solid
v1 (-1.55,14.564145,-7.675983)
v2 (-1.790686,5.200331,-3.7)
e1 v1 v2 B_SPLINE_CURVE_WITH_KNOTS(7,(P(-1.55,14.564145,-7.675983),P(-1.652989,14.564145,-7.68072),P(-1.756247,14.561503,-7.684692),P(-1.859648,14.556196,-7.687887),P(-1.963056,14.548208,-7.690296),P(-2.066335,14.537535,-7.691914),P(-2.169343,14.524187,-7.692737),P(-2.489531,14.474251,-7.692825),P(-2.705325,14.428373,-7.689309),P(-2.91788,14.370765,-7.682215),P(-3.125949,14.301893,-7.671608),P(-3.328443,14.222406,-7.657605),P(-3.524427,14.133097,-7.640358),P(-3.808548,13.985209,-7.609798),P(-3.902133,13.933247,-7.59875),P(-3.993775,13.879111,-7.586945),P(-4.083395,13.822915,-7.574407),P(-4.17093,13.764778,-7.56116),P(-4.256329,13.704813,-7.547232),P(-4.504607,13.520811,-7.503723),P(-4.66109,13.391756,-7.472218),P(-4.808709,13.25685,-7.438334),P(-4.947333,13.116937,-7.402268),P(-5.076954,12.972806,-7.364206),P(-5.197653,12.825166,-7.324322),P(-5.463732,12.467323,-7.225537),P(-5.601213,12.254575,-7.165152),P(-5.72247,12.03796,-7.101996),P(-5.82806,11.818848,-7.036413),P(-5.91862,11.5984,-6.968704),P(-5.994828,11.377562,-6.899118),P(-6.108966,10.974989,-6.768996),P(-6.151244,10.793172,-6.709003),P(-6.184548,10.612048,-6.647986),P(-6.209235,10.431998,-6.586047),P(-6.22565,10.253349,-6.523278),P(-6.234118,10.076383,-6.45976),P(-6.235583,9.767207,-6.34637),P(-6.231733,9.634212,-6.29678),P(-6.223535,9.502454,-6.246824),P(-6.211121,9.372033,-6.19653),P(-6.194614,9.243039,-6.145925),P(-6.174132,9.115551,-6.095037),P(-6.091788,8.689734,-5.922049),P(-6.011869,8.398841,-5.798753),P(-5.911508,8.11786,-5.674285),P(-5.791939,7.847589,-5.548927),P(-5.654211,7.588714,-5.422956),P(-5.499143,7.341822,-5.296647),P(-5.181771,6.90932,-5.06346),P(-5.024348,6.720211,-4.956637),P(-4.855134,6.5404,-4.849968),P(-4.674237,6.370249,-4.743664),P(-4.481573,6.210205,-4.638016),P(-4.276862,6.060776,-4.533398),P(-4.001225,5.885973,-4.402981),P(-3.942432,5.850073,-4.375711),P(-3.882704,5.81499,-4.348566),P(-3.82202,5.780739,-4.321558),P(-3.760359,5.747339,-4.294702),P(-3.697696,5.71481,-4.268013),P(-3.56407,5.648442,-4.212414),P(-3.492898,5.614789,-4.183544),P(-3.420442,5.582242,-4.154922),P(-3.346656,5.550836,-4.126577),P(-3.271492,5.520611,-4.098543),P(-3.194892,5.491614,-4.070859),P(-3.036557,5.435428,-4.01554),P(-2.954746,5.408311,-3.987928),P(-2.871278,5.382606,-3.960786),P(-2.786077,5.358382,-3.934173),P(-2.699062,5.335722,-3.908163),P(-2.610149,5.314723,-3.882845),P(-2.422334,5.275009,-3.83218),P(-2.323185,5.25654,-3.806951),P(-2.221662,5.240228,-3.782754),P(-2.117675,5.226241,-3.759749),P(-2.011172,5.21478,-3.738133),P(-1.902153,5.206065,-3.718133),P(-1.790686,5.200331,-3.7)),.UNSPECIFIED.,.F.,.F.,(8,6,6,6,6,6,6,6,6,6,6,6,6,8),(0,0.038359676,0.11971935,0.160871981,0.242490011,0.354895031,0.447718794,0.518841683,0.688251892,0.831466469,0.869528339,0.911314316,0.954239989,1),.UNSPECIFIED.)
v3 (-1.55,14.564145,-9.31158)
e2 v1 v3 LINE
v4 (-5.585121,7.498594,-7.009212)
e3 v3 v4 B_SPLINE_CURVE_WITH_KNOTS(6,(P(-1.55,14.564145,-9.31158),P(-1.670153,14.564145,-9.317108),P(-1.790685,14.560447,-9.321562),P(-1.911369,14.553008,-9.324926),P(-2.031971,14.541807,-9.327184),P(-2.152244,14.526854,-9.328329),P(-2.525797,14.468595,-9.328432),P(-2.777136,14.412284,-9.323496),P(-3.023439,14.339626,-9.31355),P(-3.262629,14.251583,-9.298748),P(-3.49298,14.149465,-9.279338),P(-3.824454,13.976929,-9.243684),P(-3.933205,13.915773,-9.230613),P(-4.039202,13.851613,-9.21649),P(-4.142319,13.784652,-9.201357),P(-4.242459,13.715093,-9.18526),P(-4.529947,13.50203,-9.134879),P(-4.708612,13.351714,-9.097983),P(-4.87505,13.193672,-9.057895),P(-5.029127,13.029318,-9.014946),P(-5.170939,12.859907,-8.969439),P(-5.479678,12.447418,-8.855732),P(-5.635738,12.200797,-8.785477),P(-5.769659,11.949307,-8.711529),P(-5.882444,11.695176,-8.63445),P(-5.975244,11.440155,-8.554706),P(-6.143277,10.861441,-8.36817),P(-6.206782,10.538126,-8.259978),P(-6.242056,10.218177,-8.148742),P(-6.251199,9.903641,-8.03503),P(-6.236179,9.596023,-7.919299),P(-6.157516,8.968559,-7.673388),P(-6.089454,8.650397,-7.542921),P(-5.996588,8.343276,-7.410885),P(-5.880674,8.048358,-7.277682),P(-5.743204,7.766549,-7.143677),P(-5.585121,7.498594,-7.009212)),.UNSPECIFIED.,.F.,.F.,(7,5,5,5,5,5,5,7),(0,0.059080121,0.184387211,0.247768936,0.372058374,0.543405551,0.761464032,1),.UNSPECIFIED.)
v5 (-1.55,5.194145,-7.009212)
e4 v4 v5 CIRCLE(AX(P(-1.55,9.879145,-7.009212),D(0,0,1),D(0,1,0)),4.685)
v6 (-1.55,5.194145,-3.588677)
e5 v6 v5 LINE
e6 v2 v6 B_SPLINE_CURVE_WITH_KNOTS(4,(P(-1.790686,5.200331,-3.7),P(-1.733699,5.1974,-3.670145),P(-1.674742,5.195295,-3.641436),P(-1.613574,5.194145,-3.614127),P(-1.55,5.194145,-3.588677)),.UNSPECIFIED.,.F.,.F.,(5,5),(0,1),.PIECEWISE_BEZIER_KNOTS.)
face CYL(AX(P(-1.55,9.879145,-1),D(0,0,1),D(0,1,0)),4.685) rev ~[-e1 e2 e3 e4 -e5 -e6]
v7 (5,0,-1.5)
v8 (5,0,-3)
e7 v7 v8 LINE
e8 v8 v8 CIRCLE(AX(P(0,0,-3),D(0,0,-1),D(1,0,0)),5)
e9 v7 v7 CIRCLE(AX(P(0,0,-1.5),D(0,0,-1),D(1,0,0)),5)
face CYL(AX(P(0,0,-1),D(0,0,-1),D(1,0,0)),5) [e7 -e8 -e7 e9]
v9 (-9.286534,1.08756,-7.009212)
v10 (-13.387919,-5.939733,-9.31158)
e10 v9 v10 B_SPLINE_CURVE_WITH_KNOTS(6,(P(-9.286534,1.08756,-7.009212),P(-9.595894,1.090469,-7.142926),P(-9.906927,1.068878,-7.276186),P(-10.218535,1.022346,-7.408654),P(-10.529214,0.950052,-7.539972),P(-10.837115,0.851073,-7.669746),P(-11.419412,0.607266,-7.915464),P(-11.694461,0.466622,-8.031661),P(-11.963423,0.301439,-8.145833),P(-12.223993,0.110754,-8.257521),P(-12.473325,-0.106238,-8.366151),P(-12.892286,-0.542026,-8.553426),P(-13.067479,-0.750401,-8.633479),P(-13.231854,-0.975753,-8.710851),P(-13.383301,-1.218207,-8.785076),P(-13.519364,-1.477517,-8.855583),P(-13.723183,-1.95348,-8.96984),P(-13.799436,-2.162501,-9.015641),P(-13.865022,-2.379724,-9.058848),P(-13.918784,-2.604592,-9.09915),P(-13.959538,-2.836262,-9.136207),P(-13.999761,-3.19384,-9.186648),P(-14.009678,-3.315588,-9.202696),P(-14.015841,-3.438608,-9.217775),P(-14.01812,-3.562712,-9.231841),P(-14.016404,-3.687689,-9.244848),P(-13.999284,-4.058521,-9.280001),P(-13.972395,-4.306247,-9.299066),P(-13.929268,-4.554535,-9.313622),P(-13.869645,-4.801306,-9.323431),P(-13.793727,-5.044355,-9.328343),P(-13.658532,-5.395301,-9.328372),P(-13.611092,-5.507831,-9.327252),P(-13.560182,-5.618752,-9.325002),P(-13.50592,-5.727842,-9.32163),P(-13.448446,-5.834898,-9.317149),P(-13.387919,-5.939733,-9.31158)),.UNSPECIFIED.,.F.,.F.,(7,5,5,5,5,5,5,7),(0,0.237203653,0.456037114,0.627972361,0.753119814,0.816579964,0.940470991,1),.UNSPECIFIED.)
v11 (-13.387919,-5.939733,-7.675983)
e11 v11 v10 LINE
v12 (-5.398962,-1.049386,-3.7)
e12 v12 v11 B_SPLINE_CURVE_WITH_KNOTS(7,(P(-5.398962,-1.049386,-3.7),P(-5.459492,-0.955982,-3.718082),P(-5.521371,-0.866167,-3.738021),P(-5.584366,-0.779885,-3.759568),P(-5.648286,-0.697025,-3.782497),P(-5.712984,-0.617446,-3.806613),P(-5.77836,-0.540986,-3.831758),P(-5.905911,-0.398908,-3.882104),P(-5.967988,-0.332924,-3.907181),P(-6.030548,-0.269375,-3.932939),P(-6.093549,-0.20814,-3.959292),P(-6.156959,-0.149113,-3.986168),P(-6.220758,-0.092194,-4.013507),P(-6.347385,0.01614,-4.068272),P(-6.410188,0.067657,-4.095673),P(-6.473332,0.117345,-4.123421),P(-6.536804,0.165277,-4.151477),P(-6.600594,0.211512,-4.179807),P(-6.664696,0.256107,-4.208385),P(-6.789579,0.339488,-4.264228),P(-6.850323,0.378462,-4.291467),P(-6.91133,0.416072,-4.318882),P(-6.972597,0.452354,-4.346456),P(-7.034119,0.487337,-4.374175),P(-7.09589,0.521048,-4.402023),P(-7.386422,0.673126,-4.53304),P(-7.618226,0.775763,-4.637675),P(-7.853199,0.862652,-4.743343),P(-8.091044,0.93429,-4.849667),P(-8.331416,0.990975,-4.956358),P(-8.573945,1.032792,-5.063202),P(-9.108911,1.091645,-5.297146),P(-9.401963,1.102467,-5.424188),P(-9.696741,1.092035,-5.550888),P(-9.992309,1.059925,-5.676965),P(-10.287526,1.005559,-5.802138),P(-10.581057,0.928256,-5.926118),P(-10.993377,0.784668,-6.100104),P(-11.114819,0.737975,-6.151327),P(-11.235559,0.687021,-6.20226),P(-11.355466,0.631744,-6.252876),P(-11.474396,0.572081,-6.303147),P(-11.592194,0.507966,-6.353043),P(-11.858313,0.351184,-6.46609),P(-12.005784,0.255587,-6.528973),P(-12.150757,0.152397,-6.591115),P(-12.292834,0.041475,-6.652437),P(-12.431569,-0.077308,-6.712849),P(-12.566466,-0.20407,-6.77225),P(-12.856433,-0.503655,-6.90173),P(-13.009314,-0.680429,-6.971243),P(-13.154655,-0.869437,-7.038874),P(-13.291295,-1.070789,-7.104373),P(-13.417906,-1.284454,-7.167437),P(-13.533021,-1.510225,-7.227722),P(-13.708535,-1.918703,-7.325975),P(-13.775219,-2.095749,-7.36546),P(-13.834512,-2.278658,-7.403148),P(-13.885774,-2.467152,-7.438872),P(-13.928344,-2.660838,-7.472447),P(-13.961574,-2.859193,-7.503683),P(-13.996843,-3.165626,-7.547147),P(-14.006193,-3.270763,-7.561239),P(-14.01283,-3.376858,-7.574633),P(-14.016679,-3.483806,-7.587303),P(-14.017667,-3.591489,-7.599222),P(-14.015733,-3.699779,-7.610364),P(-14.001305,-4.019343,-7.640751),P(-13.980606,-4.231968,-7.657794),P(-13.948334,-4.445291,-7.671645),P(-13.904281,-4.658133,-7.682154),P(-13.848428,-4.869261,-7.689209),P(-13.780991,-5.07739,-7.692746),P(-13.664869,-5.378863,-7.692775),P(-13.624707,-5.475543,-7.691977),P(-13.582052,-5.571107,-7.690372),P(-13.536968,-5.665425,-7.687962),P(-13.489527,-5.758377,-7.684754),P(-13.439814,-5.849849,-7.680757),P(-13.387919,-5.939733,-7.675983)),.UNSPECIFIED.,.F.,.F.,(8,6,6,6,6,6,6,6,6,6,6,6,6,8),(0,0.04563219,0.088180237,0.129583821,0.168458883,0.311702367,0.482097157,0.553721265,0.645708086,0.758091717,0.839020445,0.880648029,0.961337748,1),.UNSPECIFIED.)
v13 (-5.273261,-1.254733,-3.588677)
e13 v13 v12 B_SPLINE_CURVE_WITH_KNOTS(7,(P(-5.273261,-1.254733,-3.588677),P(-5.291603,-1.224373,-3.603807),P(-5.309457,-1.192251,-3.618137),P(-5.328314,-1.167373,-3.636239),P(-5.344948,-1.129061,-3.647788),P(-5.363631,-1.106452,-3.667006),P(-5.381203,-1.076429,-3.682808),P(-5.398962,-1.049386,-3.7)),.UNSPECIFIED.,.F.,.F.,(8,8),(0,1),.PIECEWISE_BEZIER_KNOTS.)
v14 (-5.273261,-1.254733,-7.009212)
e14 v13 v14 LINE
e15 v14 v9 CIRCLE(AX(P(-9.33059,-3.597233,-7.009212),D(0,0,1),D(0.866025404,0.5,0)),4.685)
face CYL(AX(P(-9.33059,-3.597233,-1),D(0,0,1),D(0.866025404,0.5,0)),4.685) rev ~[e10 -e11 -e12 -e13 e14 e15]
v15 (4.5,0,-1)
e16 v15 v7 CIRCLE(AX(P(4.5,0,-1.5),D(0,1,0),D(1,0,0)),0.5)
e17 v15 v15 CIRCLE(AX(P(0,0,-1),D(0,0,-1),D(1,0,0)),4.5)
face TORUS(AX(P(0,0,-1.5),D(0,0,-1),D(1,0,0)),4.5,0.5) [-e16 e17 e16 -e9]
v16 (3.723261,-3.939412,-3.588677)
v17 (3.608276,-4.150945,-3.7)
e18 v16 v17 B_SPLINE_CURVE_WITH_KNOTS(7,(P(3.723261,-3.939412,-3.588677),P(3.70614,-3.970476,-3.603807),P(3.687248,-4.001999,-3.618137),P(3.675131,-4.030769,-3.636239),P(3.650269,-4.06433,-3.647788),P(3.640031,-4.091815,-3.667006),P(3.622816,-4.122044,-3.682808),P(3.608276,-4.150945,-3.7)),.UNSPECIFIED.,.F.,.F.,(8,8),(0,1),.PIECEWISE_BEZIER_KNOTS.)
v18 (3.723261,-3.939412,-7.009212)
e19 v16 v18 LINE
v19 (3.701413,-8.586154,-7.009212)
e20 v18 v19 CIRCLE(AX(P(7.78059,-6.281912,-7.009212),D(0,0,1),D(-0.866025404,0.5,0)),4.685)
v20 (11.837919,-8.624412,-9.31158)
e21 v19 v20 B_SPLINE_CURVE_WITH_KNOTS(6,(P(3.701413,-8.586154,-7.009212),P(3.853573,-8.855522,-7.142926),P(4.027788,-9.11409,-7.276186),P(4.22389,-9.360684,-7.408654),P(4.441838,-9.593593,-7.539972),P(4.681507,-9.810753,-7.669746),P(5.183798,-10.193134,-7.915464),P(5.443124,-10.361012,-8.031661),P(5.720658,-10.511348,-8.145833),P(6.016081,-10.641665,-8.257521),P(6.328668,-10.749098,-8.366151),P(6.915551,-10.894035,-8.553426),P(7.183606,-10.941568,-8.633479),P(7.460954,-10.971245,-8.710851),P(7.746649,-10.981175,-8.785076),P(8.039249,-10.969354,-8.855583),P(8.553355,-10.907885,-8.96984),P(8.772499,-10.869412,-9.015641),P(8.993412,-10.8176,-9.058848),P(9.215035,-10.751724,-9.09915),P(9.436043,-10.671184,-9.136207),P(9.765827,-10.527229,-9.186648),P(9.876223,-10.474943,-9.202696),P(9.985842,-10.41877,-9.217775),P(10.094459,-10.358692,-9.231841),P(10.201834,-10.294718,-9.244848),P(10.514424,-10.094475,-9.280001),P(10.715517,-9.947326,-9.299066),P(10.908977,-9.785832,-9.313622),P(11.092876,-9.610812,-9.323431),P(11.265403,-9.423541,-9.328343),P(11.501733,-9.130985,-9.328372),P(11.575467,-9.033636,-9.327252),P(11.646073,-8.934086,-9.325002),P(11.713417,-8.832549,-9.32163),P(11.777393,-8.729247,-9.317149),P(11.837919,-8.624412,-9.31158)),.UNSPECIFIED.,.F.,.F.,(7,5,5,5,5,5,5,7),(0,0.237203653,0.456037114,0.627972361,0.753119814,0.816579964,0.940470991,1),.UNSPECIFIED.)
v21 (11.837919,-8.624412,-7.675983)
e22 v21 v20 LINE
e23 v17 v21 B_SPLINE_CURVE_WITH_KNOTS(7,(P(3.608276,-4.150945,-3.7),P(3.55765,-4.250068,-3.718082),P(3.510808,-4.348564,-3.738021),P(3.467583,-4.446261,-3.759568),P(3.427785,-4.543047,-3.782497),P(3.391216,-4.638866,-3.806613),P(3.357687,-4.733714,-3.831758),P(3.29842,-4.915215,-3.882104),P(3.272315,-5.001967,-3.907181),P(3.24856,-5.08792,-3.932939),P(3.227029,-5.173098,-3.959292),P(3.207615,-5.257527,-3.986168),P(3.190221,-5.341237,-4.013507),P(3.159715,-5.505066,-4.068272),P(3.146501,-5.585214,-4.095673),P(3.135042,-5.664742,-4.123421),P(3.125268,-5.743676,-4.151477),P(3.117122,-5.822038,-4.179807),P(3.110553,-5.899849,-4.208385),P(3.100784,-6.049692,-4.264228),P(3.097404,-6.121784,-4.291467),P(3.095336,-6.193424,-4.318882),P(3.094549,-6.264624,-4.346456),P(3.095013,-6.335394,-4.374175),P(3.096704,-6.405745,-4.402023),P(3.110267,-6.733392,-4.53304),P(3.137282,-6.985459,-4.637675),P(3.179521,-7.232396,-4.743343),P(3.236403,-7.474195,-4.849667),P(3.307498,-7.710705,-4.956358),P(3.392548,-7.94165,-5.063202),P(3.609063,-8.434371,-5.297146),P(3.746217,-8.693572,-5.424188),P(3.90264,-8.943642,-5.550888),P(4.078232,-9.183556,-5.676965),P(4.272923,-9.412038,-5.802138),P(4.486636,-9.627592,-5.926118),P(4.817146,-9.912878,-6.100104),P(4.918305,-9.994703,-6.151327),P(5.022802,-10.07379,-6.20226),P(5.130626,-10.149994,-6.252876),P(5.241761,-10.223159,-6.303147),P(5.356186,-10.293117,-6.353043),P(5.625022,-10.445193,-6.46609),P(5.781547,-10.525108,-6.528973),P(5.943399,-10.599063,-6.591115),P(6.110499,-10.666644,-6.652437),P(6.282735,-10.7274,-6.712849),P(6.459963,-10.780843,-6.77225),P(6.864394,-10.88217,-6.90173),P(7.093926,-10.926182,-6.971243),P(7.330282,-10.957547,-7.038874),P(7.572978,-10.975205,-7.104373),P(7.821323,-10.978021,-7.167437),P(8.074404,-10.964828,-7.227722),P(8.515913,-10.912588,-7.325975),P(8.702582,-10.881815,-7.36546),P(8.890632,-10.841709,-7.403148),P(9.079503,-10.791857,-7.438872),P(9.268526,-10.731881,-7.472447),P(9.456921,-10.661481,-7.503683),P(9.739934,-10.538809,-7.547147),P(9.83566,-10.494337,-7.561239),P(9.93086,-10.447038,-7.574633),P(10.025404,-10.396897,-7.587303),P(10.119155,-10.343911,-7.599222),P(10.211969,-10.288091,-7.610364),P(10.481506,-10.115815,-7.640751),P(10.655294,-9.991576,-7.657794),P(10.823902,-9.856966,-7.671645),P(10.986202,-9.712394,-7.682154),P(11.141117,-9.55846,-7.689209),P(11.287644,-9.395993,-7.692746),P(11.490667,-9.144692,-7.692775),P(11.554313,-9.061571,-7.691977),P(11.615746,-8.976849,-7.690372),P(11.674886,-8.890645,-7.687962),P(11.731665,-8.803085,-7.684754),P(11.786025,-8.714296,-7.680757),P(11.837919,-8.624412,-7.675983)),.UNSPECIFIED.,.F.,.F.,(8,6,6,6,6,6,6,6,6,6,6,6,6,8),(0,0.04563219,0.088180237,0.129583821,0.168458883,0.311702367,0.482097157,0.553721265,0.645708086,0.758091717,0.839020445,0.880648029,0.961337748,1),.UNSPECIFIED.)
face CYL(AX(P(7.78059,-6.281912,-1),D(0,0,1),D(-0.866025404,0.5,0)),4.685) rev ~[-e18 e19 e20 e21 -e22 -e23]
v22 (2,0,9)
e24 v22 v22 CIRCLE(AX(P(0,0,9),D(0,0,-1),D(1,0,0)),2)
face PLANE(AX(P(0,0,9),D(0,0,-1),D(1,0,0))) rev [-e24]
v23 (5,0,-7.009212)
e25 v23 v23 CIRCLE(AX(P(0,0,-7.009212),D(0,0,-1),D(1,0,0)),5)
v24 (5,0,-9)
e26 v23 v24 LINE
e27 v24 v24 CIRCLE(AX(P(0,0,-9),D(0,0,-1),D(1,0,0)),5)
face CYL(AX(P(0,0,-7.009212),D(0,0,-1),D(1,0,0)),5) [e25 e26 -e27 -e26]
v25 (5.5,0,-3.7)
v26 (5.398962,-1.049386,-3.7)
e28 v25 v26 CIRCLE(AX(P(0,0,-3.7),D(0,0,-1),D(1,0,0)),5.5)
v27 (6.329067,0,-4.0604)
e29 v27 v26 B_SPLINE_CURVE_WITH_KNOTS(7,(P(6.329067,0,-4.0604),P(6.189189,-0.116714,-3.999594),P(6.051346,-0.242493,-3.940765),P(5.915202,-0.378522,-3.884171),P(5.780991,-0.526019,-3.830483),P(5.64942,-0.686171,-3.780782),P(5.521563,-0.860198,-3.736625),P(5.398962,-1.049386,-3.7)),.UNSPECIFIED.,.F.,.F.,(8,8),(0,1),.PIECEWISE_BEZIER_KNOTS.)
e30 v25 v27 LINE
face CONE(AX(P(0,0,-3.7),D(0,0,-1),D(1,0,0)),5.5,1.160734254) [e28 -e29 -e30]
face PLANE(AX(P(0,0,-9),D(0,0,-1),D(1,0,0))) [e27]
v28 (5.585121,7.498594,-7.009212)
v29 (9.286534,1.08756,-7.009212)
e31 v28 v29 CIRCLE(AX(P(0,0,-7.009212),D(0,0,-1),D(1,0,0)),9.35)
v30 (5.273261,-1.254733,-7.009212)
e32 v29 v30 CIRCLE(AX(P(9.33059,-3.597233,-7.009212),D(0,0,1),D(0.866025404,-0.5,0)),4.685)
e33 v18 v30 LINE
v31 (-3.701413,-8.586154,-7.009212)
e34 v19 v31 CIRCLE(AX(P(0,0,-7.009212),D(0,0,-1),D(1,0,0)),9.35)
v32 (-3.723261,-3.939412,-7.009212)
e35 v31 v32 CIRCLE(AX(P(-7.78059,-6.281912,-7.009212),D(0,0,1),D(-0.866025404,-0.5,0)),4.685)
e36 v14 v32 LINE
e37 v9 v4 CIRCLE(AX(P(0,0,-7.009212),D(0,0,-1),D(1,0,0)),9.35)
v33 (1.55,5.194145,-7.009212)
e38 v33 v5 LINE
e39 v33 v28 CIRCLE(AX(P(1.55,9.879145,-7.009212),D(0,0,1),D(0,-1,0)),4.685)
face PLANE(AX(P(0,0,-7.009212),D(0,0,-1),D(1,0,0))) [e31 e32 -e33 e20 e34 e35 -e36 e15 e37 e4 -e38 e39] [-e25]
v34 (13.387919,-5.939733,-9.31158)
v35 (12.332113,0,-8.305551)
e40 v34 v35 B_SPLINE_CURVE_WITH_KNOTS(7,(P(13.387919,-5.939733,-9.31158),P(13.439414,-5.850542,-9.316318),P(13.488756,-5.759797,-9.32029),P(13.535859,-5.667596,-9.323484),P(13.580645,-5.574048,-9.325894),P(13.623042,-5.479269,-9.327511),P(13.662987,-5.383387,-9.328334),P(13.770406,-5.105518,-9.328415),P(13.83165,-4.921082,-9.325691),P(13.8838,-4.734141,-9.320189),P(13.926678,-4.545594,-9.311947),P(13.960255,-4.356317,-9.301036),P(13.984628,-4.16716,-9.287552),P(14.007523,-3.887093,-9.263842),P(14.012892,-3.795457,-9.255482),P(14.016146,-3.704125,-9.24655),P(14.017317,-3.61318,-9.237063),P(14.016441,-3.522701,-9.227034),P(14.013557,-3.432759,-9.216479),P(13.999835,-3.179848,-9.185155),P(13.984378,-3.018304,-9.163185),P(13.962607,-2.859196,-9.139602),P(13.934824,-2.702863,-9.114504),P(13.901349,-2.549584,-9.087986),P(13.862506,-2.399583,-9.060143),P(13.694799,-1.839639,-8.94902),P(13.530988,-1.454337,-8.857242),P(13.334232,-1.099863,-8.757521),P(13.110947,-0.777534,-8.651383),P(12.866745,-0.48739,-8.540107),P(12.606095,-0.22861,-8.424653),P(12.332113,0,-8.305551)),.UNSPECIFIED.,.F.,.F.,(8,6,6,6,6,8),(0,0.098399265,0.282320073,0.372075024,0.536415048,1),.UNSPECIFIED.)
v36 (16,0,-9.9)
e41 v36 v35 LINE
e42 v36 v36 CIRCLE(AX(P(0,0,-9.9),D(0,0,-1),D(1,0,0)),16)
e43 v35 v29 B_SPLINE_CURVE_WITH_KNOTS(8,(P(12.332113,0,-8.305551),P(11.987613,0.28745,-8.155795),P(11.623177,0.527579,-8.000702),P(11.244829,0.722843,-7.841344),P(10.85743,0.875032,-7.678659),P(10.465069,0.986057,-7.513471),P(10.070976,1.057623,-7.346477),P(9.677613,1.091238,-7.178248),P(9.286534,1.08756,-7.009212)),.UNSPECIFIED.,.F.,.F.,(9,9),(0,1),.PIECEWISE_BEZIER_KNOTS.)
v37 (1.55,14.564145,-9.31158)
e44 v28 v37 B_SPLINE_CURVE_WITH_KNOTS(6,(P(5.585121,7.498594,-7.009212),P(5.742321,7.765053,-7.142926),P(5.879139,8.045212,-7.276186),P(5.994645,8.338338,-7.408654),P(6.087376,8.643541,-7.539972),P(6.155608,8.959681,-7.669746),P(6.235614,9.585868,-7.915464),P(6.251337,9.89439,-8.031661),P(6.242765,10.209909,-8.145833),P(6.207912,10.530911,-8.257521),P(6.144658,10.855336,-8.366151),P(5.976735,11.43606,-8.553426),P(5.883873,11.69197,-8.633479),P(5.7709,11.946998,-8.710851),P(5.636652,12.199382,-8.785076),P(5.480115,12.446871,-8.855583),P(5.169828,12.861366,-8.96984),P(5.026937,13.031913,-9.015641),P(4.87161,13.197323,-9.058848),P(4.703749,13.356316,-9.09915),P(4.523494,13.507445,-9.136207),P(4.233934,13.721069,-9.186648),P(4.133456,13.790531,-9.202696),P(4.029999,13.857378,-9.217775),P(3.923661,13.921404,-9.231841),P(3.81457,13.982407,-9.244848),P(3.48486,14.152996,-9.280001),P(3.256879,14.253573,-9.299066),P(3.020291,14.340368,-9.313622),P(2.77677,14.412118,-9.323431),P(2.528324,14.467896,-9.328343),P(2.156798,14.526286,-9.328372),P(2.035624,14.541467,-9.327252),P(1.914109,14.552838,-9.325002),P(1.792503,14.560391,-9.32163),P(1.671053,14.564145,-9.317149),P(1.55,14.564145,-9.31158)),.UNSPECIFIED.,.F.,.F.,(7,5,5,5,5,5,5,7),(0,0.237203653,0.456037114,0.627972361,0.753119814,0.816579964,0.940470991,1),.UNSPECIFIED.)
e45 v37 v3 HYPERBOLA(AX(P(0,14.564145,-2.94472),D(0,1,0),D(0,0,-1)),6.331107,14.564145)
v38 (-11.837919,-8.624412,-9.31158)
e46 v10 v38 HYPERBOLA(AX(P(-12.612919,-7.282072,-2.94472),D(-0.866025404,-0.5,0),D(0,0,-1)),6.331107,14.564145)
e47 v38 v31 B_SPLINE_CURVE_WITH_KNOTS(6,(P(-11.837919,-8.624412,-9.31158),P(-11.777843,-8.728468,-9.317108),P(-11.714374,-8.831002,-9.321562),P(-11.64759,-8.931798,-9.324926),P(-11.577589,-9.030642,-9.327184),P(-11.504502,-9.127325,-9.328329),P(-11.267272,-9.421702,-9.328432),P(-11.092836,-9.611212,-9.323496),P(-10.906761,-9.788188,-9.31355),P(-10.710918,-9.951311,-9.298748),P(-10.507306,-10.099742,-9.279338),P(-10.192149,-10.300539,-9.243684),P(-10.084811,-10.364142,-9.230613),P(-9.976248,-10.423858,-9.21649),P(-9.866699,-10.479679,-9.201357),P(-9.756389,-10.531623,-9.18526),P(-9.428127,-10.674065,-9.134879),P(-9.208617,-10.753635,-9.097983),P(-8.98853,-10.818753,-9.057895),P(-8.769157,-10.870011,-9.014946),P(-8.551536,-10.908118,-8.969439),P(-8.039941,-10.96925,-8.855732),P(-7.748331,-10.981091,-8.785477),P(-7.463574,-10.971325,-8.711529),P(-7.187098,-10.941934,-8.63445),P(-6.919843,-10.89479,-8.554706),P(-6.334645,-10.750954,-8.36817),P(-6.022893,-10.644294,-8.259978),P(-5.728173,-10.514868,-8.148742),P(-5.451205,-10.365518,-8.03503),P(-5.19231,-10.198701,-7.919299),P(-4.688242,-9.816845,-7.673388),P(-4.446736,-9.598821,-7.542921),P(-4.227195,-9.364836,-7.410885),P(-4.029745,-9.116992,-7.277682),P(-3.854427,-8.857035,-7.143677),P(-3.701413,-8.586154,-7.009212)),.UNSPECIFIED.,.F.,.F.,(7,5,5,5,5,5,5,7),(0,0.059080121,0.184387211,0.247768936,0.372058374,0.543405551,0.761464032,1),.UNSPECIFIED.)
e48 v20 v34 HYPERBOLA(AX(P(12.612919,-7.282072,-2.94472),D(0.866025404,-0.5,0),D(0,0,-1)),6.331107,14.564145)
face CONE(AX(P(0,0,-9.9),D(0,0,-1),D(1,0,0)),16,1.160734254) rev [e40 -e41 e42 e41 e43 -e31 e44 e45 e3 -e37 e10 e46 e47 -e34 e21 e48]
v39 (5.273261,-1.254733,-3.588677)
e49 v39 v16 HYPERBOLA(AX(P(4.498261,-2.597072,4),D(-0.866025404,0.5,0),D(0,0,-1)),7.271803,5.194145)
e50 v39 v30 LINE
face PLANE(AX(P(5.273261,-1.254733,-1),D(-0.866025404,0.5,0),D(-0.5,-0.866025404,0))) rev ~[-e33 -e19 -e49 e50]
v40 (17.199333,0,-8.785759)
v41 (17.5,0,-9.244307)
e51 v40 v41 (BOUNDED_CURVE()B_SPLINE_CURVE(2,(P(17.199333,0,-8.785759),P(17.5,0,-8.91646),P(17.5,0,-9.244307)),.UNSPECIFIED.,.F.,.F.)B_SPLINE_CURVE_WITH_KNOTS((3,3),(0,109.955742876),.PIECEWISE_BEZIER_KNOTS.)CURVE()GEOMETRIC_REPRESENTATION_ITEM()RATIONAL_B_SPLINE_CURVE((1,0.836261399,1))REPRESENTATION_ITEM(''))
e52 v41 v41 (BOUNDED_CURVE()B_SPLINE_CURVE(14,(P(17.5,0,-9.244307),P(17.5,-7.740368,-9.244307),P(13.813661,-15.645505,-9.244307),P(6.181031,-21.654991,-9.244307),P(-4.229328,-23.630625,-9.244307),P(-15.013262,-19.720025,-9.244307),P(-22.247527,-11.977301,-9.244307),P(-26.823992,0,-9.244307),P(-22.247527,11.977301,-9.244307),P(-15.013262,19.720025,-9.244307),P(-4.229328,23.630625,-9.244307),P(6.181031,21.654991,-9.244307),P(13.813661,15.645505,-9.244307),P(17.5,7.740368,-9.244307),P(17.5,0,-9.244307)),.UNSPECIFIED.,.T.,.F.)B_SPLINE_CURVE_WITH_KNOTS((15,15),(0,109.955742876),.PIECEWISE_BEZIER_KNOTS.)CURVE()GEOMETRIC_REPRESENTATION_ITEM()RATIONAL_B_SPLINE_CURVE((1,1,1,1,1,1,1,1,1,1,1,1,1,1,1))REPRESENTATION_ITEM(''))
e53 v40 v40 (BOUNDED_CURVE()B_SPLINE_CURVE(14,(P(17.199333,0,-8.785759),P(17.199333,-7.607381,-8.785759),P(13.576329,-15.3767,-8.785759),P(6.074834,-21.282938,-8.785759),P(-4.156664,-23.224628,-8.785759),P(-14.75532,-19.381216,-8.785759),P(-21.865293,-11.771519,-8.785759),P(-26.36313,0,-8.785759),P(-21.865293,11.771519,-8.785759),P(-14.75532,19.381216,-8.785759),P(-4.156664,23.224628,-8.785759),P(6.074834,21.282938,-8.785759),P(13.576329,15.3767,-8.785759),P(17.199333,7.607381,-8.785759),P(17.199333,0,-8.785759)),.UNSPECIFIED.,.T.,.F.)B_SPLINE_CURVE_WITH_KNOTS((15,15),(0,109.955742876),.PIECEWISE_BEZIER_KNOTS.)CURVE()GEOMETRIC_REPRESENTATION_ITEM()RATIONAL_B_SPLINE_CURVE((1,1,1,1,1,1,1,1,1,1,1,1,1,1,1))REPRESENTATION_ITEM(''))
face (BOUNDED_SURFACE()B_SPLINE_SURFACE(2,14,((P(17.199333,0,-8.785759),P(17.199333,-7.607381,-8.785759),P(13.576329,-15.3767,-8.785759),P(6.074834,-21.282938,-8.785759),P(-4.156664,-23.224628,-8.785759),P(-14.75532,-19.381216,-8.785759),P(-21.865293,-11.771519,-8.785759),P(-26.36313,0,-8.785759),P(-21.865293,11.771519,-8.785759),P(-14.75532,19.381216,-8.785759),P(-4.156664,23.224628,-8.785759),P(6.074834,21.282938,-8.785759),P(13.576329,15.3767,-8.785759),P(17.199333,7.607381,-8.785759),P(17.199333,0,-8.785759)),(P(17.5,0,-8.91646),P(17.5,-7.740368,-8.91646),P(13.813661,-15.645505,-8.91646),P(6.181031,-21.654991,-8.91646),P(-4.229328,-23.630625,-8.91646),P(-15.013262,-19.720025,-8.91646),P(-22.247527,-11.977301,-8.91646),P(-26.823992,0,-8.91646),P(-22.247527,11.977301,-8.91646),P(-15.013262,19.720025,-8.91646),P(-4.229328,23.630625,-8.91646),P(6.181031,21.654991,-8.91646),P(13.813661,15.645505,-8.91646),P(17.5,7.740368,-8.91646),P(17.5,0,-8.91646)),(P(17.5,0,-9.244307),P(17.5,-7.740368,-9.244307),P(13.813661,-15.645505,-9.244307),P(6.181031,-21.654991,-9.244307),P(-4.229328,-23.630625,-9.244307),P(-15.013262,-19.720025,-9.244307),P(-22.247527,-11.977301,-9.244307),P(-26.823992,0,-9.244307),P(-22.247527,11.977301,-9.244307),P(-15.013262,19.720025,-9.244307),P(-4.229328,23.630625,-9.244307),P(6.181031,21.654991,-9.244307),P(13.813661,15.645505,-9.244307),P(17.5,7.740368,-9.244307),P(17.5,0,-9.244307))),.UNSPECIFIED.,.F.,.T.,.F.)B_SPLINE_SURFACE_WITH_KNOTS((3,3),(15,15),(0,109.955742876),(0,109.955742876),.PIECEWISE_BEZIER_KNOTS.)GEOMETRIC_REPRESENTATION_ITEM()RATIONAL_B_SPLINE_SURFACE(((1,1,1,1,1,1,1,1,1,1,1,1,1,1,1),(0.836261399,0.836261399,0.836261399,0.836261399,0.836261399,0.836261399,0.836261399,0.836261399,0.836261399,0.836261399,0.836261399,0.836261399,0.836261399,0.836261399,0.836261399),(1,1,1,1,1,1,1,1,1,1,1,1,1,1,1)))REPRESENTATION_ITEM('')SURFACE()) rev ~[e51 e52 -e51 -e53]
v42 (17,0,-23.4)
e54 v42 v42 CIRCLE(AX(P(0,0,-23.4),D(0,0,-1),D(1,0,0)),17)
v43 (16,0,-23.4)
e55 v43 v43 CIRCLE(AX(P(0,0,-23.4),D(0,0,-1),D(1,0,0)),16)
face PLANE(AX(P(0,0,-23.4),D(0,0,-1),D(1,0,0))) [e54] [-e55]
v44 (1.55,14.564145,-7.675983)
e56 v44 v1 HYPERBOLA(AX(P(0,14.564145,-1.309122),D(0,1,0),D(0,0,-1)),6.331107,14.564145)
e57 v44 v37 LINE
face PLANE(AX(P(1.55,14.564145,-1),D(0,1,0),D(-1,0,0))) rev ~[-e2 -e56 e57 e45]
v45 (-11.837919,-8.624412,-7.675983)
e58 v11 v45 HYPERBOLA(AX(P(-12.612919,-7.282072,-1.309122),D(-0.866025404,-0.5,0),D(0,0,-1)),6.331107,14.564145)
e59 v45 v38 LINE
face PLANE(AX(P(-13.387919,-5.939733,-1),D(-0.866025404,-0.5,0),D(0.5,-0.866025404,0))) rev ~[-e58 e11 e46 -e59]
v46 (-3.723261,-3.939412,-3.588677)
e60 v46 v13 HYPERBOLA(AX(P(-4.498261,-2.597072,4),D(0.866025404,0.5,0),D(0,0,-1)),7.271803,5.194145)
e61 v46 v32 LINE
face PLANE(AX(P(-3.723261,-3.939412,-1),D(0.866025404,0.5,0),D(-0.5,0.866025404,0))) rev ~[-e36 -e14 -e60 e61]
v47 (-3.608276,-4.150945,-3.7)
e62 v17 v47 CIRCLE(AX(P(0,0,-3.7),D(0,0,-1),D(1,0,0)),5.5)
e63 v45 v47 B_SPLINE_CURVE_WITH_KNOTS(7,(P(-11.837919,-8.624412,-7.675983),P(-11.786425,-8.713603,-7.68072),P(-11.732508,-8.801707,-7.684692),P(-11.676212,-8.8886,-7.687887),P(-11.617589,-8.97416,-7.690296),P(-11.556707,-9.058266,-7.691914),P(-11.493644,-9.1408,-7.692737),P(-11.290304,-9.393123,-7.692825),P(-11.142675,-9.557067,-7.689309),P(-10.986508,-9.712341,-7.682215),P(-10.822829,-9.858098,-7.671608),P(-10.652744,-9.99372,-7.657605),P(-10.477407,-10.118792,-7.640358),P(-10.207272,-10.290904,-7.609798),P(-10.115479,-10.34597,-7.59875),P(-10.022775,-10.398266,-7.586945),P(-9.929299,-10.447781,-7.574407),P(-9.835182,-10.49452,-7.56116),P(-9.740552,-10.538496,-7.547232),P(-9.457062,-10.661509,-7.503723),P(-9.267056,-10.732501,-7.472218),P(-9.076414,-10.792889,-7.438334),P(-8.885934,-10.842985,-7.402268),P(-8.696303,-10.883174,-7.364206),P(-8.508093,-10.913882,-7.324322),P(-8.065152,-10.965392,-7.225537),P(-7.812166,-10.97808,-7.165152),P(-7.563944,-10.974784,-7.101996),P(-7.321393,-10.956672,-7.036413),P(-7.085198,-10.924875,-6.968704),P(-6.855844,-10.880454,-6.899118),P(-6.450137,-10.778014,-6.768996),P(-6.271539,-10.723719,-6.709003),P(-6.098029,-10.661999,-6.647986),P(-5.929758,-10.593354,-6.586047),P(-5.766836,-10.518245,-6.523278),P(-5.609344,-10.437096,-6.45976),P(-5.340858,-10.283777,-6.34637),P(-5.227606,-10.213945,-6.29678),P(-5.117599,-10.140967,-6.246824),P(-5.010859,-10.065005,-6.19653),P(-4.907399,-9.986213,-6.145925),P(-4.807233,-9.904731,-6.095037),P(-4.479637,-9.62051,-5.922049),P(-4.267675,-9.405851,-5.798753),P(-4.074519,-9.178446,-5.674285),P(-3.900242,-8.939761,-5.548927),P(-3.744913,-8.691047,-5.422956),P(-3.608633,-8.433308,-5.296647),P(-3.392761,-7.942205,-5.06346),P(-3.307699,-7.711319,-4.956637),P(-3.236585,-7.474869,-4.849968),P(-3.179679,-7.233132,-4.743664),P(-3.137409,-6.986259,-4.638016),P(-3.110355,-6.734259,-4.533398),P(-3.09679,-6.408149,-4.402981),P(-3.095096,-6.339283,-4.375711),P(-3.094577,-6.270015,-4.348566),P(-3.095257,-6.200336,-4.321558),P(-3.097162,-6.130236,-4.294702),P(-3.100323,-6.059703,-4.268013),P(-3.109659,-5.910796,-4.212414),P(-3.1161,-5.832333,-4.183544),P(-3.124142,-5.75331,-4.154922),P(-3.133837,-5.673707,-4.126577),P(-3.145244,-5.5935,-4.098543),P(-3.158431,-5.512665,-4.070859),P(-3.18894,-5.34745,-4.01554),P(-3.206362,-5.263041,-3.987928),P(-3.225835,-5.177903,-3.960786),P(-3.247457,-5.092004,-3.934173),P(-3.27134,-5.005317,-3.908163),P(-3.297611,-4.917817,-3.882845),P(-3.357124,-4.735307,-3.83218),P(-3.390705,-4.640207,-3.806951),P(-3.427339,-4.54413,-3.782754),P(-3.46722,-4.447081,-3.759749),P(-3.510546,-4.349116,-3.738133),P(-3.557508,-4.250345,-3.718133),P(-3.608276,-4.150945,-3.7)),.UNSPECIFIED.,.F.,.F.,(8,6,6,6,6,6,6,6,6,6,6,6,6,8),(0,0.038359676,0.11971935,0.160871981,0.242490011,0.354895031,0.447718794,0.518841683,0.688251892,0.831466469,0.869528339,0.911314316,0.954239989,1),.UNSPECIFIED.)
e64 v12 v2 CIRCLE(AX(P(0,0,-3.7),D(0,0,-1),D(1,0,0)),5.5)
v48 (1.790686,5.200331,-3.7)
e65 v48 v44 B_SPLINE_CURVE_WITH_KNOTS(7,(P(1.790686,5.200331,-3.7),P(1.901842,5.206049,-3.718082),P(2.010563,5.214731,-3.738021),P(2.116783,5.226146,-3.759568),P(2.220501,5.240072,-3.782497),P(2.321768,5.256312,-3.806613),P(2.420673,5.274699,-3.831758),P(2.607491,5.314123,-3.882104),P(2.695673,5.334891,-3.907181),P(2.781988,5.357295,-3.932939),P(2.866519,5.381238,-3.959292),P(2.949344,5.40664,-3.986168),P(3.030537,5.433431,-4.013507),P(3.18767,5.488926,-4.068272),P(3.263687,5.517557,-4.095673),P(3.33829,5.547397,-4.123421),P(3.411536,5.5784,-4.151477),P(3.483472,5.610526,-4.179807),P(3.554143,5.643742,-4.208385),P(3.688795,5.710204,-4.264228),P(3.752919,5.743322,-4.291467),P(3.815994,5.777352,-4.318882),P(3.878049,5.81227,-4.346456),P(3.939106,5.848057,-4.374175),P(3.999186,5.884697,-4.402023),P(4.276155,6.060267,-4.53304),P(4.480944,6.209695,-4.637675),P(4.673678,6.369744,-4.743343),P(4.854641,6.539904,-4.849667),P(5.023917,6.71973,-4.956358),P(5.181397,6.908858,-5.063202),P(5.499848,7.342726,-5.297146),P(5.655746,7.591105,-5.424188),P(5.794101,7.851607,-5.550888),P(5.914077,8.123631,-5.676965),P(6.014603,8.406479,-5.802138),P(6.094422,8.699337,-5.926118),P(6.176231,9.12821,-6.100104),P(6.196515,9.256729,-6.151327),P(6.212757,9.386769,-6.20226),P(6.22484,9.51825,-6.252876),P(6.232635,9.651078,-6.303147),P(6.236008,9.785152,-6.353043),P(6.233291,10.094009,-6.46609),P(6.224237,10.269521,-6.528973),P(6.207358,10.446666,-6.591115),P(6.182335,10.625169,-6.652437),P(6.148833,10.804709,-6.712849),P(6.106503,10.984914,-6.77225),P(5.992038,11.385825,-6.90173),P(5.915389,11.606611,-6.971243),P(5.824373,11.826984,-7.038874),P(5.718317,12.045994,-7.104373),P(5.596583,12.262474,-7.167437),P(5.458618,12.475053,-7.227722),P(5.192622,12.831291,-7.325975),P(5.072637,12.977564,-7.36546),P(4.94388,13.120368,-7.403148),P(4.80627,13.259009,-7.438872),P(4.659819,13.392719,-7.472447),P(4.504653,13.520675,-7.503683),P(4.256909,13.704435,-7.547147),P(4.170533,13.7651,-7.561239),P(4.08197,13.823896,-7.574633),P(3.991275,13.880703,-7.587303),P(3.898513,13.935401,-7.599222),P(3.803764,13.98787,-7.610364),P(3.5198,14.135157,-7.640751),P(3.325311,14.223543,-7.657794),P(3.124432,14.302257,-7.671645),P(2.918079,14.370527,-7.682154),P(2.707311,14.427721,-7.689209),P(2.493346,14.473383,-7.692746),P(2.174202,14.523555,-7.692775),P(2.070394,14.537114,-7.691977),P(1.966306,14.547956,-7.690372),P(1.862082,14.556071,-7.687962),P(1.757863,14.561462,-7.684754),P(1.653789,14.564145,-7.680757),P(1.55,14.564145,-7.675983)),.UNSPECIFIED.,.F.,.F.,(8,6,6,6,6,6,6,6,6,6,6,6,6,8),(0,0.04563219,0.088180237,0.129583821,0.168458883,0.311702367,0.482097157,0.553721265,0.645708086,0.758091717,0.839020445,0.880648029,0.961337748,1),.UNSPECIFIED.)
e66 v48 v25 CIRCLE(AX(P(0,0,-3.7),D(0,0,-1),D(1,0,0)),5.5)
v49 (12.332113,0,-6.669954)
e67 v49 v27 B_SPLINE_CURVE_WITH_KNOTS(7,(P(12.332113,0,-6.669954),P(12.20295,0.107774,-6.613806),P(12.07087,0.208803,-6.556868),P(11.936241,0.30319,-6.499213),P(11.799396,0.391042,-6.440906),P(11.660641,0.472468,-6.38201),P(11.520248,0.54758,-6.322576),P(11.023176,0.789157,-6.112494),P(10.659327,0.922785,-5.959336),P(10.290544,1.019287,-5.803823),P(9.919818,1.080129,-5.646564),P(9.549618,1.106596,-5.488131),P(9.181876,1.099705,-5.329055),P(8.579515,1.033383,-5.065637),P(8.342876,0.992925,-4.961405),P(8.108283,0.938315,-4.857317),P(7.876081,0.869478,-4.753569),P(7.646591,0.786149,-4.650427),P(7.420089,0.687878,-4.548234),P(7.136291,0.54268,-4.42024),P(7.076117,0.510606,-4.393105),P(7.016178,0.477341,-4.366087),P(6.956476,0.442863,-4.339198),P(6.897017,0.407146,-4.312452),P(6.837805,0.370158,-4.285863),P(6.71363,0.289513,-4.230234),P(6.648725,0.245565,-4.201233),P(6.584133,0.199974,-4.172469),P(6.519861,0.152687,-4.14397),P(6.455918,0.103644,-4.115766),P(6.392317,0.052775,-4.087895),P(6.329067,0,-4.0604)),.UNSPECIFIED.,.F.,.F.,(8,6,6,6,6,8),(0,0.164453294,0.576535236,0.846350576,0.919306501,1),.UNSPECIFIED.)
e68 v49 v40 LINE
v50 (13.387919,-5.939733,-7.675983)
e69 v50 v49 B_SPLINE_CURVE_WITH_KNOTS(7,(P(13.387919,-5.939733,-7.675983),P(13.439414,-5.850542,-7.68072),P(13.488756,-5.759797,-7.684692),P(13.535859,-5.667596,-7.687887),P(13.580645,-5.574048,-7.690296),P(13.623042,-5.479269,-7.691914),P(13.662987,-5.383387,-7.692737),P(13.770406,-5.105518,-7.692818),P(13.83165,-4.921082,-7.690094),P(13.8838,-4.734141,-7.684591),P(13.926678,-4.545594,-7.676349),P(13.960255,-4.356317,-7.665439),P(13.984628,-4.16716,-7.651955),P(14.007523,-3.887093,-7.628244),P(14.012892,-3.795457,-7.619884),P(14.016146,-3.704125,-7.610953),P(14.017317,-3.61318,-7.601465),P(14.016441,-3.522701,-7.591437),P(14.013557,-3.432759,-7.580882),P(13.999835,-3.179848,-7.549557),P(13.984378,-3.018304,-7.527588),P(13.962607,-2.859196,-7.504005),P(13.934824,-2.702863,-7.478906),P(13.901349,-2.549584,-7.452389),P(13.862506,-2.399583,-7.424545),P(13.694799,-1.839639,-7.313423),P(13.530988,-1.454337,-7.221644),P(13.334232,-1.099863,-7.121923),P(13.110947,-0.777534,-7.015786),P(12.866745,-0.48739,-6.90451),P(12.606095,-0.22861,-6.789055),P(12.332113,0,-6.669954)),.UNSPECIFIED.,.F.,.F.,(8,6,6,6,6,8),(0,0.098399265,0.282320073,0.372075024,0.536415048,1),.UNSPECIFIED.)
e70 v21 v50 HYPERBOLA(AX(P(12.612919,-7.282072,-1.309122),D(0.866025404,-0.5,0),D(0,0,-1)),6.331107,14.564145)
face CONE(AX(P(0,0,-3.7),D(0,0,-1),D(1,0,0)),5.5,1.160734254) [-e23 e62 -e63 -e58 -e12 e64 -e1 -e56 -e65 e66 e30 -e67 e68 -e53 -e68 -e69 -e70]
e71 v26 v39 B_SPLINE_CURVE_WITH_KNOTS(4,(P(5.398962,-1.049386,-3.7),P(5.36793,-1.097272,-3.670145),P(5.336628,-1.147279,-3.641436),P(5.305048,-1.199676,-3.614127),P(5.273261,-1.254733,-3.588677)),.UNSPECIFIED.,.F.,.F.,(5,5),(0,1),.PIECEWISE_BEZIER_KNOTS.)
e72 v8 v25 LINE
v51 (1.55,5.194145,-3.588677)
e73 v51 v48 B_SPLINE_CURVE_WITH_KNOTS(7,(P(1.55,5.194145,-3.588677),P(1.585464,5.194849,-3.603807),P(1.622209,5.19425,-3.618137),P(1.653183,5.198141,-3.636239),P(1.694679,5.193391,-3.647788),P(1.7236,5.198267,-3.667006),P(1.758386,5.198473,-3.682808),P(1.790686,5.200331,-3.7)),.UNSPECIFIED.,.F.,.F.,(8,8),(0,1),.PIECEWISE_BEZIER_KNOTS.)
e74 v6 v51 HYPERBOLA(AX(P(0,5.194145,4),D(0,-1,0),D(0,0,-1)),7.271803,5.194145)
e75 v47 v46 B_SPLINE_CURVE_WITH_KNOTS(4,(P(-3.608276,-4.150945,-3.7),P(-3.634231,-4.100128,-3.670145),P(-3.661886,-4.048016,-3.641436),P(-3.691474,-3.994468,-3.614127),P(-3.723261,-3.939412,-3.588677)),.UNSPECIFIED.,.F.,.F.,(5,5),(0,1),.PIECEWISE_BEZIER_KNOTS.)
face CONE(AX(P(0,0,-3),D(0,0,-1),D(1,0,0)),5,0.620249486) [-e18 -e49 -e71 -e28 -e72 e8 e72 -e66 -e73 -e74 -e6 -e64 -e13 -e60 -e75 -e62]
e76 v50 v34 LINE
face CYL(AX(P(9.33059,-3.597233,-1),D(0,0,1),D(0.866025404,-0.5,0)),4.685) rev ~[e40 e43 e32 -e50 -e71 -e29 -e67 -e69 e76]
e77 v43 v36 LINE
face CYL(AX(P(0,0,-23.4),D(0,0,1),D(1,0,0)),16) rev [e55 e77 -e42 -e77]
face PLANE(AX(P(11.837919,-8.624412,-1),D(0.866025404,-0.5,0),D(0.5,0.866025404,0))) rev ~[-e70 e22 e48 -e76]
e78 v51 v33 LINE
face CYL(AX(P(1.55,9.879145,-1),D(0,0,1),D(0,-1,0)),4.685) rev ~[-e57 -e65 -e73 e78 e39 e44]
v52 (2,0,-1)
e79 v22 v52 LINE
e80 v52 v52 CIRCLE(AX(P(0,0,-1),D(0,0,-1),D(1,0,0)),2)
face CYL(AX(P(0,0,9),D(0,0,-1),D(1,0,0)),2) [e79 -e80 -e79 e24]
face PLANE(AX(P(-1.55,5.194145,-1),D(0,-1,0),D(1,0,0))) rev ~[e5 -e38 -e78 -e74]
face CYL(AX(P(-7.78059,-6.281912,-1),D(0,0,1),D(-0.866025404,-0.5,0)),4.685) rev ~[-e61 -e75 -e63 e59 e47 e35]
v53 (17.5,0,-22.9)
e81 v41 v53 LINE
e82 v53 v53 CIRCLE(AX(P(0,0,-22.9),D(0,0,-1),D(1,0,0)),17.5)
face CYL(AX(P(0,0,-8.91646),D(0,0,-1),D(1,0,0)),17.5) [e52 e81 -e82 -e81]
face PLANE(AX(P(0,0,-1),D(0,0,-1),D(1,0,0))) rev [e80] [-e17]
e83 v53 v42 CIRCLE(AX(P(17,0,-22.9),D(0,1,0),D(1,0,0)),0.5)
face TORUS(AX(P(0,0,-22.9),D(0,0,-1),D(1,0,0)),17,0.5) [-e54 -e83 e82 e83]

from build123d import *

# Parameters (mm, degrees)
CUT_EXTRUDE_1_DEPTH      = 10
PATTERN_CIRCULAR_1_COUNT = 3
FILLET_1_R               = 0.5


with BuildPart() as part:
    # Эскиз1 → Повернуть1 (revolve)
    with BuildSketch(Plane(origin=(0, 0, 0), x_dir=(0, 0, -1), z_dir=(1, 0, 0)), mode=Mode.PRIVATE) as revolve_1_sk:
        Polygon((-9, 0), (-9, 2), (1, 2), (1, 5), (3, 5), (3.7, 5.5), (8.916460066, 17.5), (23.4, 17.5), (23.4, 16), (9.9, 16), (7.009211714, 9.35), (7.009211714, 5), (9, 5), (9, 0), align=None)
    revolve(revolve_1_sk.sketch.rotate(Axis((0, 0, -9), (0, 0, -1)), 90), axis=Axis((0, 0, -9), (0, 0, -1)))

    # Эскиз2 → Вырез-Вытянуть1 (cut)
    with BuildSketch(Plane.XY.offset(-1)):
        with BuildLine():
            Line((1.55, 14.5641447), (-1.55, 14.5641447))
            ThreePointArc((-1.55, 14.5641447), (-6.235, 9.8791447), (-1.55, 5.1941447))
            Line((-1.55, 5.1941447), (1.55, 5.1941447))
            ThreePointArc((1.55, 5.1941447), (6.235, 9.8791447), (1.55, 14.5641447))
        make_face()
    cut_extrude_1 = extrude(amount=-CUT_EXTRUDE_1_DEPTH, mode=Mode.SUBTRACT)

    # Круговой массив1: Вырез-Вытянуть1 ×3 about axis
    pattern_circular_1_axis = Axis((0, 0, 0), (0, 0, 1))
    for i in range(1, PATTERN_CIRCULAR_1_COUNT):
        add(cut_extrude_1.rotate(pattern_circular_1_axis, i * 360 / PATTERN_CIRCULAR_1_COUNT), mode=Mode.SUBTRACT)

    # Скругление1
    fillet_1_edges = [part.edges().sort_by_distance(p)[0] for p in [
        (-17.5, 0, -23.4),
        (-17.5, 0, -8.916460066),
        (-5, 0, -1),
    ]]
    fillet(fillet_1_edges, radius=FILLET_1_R)


solid = part.part
